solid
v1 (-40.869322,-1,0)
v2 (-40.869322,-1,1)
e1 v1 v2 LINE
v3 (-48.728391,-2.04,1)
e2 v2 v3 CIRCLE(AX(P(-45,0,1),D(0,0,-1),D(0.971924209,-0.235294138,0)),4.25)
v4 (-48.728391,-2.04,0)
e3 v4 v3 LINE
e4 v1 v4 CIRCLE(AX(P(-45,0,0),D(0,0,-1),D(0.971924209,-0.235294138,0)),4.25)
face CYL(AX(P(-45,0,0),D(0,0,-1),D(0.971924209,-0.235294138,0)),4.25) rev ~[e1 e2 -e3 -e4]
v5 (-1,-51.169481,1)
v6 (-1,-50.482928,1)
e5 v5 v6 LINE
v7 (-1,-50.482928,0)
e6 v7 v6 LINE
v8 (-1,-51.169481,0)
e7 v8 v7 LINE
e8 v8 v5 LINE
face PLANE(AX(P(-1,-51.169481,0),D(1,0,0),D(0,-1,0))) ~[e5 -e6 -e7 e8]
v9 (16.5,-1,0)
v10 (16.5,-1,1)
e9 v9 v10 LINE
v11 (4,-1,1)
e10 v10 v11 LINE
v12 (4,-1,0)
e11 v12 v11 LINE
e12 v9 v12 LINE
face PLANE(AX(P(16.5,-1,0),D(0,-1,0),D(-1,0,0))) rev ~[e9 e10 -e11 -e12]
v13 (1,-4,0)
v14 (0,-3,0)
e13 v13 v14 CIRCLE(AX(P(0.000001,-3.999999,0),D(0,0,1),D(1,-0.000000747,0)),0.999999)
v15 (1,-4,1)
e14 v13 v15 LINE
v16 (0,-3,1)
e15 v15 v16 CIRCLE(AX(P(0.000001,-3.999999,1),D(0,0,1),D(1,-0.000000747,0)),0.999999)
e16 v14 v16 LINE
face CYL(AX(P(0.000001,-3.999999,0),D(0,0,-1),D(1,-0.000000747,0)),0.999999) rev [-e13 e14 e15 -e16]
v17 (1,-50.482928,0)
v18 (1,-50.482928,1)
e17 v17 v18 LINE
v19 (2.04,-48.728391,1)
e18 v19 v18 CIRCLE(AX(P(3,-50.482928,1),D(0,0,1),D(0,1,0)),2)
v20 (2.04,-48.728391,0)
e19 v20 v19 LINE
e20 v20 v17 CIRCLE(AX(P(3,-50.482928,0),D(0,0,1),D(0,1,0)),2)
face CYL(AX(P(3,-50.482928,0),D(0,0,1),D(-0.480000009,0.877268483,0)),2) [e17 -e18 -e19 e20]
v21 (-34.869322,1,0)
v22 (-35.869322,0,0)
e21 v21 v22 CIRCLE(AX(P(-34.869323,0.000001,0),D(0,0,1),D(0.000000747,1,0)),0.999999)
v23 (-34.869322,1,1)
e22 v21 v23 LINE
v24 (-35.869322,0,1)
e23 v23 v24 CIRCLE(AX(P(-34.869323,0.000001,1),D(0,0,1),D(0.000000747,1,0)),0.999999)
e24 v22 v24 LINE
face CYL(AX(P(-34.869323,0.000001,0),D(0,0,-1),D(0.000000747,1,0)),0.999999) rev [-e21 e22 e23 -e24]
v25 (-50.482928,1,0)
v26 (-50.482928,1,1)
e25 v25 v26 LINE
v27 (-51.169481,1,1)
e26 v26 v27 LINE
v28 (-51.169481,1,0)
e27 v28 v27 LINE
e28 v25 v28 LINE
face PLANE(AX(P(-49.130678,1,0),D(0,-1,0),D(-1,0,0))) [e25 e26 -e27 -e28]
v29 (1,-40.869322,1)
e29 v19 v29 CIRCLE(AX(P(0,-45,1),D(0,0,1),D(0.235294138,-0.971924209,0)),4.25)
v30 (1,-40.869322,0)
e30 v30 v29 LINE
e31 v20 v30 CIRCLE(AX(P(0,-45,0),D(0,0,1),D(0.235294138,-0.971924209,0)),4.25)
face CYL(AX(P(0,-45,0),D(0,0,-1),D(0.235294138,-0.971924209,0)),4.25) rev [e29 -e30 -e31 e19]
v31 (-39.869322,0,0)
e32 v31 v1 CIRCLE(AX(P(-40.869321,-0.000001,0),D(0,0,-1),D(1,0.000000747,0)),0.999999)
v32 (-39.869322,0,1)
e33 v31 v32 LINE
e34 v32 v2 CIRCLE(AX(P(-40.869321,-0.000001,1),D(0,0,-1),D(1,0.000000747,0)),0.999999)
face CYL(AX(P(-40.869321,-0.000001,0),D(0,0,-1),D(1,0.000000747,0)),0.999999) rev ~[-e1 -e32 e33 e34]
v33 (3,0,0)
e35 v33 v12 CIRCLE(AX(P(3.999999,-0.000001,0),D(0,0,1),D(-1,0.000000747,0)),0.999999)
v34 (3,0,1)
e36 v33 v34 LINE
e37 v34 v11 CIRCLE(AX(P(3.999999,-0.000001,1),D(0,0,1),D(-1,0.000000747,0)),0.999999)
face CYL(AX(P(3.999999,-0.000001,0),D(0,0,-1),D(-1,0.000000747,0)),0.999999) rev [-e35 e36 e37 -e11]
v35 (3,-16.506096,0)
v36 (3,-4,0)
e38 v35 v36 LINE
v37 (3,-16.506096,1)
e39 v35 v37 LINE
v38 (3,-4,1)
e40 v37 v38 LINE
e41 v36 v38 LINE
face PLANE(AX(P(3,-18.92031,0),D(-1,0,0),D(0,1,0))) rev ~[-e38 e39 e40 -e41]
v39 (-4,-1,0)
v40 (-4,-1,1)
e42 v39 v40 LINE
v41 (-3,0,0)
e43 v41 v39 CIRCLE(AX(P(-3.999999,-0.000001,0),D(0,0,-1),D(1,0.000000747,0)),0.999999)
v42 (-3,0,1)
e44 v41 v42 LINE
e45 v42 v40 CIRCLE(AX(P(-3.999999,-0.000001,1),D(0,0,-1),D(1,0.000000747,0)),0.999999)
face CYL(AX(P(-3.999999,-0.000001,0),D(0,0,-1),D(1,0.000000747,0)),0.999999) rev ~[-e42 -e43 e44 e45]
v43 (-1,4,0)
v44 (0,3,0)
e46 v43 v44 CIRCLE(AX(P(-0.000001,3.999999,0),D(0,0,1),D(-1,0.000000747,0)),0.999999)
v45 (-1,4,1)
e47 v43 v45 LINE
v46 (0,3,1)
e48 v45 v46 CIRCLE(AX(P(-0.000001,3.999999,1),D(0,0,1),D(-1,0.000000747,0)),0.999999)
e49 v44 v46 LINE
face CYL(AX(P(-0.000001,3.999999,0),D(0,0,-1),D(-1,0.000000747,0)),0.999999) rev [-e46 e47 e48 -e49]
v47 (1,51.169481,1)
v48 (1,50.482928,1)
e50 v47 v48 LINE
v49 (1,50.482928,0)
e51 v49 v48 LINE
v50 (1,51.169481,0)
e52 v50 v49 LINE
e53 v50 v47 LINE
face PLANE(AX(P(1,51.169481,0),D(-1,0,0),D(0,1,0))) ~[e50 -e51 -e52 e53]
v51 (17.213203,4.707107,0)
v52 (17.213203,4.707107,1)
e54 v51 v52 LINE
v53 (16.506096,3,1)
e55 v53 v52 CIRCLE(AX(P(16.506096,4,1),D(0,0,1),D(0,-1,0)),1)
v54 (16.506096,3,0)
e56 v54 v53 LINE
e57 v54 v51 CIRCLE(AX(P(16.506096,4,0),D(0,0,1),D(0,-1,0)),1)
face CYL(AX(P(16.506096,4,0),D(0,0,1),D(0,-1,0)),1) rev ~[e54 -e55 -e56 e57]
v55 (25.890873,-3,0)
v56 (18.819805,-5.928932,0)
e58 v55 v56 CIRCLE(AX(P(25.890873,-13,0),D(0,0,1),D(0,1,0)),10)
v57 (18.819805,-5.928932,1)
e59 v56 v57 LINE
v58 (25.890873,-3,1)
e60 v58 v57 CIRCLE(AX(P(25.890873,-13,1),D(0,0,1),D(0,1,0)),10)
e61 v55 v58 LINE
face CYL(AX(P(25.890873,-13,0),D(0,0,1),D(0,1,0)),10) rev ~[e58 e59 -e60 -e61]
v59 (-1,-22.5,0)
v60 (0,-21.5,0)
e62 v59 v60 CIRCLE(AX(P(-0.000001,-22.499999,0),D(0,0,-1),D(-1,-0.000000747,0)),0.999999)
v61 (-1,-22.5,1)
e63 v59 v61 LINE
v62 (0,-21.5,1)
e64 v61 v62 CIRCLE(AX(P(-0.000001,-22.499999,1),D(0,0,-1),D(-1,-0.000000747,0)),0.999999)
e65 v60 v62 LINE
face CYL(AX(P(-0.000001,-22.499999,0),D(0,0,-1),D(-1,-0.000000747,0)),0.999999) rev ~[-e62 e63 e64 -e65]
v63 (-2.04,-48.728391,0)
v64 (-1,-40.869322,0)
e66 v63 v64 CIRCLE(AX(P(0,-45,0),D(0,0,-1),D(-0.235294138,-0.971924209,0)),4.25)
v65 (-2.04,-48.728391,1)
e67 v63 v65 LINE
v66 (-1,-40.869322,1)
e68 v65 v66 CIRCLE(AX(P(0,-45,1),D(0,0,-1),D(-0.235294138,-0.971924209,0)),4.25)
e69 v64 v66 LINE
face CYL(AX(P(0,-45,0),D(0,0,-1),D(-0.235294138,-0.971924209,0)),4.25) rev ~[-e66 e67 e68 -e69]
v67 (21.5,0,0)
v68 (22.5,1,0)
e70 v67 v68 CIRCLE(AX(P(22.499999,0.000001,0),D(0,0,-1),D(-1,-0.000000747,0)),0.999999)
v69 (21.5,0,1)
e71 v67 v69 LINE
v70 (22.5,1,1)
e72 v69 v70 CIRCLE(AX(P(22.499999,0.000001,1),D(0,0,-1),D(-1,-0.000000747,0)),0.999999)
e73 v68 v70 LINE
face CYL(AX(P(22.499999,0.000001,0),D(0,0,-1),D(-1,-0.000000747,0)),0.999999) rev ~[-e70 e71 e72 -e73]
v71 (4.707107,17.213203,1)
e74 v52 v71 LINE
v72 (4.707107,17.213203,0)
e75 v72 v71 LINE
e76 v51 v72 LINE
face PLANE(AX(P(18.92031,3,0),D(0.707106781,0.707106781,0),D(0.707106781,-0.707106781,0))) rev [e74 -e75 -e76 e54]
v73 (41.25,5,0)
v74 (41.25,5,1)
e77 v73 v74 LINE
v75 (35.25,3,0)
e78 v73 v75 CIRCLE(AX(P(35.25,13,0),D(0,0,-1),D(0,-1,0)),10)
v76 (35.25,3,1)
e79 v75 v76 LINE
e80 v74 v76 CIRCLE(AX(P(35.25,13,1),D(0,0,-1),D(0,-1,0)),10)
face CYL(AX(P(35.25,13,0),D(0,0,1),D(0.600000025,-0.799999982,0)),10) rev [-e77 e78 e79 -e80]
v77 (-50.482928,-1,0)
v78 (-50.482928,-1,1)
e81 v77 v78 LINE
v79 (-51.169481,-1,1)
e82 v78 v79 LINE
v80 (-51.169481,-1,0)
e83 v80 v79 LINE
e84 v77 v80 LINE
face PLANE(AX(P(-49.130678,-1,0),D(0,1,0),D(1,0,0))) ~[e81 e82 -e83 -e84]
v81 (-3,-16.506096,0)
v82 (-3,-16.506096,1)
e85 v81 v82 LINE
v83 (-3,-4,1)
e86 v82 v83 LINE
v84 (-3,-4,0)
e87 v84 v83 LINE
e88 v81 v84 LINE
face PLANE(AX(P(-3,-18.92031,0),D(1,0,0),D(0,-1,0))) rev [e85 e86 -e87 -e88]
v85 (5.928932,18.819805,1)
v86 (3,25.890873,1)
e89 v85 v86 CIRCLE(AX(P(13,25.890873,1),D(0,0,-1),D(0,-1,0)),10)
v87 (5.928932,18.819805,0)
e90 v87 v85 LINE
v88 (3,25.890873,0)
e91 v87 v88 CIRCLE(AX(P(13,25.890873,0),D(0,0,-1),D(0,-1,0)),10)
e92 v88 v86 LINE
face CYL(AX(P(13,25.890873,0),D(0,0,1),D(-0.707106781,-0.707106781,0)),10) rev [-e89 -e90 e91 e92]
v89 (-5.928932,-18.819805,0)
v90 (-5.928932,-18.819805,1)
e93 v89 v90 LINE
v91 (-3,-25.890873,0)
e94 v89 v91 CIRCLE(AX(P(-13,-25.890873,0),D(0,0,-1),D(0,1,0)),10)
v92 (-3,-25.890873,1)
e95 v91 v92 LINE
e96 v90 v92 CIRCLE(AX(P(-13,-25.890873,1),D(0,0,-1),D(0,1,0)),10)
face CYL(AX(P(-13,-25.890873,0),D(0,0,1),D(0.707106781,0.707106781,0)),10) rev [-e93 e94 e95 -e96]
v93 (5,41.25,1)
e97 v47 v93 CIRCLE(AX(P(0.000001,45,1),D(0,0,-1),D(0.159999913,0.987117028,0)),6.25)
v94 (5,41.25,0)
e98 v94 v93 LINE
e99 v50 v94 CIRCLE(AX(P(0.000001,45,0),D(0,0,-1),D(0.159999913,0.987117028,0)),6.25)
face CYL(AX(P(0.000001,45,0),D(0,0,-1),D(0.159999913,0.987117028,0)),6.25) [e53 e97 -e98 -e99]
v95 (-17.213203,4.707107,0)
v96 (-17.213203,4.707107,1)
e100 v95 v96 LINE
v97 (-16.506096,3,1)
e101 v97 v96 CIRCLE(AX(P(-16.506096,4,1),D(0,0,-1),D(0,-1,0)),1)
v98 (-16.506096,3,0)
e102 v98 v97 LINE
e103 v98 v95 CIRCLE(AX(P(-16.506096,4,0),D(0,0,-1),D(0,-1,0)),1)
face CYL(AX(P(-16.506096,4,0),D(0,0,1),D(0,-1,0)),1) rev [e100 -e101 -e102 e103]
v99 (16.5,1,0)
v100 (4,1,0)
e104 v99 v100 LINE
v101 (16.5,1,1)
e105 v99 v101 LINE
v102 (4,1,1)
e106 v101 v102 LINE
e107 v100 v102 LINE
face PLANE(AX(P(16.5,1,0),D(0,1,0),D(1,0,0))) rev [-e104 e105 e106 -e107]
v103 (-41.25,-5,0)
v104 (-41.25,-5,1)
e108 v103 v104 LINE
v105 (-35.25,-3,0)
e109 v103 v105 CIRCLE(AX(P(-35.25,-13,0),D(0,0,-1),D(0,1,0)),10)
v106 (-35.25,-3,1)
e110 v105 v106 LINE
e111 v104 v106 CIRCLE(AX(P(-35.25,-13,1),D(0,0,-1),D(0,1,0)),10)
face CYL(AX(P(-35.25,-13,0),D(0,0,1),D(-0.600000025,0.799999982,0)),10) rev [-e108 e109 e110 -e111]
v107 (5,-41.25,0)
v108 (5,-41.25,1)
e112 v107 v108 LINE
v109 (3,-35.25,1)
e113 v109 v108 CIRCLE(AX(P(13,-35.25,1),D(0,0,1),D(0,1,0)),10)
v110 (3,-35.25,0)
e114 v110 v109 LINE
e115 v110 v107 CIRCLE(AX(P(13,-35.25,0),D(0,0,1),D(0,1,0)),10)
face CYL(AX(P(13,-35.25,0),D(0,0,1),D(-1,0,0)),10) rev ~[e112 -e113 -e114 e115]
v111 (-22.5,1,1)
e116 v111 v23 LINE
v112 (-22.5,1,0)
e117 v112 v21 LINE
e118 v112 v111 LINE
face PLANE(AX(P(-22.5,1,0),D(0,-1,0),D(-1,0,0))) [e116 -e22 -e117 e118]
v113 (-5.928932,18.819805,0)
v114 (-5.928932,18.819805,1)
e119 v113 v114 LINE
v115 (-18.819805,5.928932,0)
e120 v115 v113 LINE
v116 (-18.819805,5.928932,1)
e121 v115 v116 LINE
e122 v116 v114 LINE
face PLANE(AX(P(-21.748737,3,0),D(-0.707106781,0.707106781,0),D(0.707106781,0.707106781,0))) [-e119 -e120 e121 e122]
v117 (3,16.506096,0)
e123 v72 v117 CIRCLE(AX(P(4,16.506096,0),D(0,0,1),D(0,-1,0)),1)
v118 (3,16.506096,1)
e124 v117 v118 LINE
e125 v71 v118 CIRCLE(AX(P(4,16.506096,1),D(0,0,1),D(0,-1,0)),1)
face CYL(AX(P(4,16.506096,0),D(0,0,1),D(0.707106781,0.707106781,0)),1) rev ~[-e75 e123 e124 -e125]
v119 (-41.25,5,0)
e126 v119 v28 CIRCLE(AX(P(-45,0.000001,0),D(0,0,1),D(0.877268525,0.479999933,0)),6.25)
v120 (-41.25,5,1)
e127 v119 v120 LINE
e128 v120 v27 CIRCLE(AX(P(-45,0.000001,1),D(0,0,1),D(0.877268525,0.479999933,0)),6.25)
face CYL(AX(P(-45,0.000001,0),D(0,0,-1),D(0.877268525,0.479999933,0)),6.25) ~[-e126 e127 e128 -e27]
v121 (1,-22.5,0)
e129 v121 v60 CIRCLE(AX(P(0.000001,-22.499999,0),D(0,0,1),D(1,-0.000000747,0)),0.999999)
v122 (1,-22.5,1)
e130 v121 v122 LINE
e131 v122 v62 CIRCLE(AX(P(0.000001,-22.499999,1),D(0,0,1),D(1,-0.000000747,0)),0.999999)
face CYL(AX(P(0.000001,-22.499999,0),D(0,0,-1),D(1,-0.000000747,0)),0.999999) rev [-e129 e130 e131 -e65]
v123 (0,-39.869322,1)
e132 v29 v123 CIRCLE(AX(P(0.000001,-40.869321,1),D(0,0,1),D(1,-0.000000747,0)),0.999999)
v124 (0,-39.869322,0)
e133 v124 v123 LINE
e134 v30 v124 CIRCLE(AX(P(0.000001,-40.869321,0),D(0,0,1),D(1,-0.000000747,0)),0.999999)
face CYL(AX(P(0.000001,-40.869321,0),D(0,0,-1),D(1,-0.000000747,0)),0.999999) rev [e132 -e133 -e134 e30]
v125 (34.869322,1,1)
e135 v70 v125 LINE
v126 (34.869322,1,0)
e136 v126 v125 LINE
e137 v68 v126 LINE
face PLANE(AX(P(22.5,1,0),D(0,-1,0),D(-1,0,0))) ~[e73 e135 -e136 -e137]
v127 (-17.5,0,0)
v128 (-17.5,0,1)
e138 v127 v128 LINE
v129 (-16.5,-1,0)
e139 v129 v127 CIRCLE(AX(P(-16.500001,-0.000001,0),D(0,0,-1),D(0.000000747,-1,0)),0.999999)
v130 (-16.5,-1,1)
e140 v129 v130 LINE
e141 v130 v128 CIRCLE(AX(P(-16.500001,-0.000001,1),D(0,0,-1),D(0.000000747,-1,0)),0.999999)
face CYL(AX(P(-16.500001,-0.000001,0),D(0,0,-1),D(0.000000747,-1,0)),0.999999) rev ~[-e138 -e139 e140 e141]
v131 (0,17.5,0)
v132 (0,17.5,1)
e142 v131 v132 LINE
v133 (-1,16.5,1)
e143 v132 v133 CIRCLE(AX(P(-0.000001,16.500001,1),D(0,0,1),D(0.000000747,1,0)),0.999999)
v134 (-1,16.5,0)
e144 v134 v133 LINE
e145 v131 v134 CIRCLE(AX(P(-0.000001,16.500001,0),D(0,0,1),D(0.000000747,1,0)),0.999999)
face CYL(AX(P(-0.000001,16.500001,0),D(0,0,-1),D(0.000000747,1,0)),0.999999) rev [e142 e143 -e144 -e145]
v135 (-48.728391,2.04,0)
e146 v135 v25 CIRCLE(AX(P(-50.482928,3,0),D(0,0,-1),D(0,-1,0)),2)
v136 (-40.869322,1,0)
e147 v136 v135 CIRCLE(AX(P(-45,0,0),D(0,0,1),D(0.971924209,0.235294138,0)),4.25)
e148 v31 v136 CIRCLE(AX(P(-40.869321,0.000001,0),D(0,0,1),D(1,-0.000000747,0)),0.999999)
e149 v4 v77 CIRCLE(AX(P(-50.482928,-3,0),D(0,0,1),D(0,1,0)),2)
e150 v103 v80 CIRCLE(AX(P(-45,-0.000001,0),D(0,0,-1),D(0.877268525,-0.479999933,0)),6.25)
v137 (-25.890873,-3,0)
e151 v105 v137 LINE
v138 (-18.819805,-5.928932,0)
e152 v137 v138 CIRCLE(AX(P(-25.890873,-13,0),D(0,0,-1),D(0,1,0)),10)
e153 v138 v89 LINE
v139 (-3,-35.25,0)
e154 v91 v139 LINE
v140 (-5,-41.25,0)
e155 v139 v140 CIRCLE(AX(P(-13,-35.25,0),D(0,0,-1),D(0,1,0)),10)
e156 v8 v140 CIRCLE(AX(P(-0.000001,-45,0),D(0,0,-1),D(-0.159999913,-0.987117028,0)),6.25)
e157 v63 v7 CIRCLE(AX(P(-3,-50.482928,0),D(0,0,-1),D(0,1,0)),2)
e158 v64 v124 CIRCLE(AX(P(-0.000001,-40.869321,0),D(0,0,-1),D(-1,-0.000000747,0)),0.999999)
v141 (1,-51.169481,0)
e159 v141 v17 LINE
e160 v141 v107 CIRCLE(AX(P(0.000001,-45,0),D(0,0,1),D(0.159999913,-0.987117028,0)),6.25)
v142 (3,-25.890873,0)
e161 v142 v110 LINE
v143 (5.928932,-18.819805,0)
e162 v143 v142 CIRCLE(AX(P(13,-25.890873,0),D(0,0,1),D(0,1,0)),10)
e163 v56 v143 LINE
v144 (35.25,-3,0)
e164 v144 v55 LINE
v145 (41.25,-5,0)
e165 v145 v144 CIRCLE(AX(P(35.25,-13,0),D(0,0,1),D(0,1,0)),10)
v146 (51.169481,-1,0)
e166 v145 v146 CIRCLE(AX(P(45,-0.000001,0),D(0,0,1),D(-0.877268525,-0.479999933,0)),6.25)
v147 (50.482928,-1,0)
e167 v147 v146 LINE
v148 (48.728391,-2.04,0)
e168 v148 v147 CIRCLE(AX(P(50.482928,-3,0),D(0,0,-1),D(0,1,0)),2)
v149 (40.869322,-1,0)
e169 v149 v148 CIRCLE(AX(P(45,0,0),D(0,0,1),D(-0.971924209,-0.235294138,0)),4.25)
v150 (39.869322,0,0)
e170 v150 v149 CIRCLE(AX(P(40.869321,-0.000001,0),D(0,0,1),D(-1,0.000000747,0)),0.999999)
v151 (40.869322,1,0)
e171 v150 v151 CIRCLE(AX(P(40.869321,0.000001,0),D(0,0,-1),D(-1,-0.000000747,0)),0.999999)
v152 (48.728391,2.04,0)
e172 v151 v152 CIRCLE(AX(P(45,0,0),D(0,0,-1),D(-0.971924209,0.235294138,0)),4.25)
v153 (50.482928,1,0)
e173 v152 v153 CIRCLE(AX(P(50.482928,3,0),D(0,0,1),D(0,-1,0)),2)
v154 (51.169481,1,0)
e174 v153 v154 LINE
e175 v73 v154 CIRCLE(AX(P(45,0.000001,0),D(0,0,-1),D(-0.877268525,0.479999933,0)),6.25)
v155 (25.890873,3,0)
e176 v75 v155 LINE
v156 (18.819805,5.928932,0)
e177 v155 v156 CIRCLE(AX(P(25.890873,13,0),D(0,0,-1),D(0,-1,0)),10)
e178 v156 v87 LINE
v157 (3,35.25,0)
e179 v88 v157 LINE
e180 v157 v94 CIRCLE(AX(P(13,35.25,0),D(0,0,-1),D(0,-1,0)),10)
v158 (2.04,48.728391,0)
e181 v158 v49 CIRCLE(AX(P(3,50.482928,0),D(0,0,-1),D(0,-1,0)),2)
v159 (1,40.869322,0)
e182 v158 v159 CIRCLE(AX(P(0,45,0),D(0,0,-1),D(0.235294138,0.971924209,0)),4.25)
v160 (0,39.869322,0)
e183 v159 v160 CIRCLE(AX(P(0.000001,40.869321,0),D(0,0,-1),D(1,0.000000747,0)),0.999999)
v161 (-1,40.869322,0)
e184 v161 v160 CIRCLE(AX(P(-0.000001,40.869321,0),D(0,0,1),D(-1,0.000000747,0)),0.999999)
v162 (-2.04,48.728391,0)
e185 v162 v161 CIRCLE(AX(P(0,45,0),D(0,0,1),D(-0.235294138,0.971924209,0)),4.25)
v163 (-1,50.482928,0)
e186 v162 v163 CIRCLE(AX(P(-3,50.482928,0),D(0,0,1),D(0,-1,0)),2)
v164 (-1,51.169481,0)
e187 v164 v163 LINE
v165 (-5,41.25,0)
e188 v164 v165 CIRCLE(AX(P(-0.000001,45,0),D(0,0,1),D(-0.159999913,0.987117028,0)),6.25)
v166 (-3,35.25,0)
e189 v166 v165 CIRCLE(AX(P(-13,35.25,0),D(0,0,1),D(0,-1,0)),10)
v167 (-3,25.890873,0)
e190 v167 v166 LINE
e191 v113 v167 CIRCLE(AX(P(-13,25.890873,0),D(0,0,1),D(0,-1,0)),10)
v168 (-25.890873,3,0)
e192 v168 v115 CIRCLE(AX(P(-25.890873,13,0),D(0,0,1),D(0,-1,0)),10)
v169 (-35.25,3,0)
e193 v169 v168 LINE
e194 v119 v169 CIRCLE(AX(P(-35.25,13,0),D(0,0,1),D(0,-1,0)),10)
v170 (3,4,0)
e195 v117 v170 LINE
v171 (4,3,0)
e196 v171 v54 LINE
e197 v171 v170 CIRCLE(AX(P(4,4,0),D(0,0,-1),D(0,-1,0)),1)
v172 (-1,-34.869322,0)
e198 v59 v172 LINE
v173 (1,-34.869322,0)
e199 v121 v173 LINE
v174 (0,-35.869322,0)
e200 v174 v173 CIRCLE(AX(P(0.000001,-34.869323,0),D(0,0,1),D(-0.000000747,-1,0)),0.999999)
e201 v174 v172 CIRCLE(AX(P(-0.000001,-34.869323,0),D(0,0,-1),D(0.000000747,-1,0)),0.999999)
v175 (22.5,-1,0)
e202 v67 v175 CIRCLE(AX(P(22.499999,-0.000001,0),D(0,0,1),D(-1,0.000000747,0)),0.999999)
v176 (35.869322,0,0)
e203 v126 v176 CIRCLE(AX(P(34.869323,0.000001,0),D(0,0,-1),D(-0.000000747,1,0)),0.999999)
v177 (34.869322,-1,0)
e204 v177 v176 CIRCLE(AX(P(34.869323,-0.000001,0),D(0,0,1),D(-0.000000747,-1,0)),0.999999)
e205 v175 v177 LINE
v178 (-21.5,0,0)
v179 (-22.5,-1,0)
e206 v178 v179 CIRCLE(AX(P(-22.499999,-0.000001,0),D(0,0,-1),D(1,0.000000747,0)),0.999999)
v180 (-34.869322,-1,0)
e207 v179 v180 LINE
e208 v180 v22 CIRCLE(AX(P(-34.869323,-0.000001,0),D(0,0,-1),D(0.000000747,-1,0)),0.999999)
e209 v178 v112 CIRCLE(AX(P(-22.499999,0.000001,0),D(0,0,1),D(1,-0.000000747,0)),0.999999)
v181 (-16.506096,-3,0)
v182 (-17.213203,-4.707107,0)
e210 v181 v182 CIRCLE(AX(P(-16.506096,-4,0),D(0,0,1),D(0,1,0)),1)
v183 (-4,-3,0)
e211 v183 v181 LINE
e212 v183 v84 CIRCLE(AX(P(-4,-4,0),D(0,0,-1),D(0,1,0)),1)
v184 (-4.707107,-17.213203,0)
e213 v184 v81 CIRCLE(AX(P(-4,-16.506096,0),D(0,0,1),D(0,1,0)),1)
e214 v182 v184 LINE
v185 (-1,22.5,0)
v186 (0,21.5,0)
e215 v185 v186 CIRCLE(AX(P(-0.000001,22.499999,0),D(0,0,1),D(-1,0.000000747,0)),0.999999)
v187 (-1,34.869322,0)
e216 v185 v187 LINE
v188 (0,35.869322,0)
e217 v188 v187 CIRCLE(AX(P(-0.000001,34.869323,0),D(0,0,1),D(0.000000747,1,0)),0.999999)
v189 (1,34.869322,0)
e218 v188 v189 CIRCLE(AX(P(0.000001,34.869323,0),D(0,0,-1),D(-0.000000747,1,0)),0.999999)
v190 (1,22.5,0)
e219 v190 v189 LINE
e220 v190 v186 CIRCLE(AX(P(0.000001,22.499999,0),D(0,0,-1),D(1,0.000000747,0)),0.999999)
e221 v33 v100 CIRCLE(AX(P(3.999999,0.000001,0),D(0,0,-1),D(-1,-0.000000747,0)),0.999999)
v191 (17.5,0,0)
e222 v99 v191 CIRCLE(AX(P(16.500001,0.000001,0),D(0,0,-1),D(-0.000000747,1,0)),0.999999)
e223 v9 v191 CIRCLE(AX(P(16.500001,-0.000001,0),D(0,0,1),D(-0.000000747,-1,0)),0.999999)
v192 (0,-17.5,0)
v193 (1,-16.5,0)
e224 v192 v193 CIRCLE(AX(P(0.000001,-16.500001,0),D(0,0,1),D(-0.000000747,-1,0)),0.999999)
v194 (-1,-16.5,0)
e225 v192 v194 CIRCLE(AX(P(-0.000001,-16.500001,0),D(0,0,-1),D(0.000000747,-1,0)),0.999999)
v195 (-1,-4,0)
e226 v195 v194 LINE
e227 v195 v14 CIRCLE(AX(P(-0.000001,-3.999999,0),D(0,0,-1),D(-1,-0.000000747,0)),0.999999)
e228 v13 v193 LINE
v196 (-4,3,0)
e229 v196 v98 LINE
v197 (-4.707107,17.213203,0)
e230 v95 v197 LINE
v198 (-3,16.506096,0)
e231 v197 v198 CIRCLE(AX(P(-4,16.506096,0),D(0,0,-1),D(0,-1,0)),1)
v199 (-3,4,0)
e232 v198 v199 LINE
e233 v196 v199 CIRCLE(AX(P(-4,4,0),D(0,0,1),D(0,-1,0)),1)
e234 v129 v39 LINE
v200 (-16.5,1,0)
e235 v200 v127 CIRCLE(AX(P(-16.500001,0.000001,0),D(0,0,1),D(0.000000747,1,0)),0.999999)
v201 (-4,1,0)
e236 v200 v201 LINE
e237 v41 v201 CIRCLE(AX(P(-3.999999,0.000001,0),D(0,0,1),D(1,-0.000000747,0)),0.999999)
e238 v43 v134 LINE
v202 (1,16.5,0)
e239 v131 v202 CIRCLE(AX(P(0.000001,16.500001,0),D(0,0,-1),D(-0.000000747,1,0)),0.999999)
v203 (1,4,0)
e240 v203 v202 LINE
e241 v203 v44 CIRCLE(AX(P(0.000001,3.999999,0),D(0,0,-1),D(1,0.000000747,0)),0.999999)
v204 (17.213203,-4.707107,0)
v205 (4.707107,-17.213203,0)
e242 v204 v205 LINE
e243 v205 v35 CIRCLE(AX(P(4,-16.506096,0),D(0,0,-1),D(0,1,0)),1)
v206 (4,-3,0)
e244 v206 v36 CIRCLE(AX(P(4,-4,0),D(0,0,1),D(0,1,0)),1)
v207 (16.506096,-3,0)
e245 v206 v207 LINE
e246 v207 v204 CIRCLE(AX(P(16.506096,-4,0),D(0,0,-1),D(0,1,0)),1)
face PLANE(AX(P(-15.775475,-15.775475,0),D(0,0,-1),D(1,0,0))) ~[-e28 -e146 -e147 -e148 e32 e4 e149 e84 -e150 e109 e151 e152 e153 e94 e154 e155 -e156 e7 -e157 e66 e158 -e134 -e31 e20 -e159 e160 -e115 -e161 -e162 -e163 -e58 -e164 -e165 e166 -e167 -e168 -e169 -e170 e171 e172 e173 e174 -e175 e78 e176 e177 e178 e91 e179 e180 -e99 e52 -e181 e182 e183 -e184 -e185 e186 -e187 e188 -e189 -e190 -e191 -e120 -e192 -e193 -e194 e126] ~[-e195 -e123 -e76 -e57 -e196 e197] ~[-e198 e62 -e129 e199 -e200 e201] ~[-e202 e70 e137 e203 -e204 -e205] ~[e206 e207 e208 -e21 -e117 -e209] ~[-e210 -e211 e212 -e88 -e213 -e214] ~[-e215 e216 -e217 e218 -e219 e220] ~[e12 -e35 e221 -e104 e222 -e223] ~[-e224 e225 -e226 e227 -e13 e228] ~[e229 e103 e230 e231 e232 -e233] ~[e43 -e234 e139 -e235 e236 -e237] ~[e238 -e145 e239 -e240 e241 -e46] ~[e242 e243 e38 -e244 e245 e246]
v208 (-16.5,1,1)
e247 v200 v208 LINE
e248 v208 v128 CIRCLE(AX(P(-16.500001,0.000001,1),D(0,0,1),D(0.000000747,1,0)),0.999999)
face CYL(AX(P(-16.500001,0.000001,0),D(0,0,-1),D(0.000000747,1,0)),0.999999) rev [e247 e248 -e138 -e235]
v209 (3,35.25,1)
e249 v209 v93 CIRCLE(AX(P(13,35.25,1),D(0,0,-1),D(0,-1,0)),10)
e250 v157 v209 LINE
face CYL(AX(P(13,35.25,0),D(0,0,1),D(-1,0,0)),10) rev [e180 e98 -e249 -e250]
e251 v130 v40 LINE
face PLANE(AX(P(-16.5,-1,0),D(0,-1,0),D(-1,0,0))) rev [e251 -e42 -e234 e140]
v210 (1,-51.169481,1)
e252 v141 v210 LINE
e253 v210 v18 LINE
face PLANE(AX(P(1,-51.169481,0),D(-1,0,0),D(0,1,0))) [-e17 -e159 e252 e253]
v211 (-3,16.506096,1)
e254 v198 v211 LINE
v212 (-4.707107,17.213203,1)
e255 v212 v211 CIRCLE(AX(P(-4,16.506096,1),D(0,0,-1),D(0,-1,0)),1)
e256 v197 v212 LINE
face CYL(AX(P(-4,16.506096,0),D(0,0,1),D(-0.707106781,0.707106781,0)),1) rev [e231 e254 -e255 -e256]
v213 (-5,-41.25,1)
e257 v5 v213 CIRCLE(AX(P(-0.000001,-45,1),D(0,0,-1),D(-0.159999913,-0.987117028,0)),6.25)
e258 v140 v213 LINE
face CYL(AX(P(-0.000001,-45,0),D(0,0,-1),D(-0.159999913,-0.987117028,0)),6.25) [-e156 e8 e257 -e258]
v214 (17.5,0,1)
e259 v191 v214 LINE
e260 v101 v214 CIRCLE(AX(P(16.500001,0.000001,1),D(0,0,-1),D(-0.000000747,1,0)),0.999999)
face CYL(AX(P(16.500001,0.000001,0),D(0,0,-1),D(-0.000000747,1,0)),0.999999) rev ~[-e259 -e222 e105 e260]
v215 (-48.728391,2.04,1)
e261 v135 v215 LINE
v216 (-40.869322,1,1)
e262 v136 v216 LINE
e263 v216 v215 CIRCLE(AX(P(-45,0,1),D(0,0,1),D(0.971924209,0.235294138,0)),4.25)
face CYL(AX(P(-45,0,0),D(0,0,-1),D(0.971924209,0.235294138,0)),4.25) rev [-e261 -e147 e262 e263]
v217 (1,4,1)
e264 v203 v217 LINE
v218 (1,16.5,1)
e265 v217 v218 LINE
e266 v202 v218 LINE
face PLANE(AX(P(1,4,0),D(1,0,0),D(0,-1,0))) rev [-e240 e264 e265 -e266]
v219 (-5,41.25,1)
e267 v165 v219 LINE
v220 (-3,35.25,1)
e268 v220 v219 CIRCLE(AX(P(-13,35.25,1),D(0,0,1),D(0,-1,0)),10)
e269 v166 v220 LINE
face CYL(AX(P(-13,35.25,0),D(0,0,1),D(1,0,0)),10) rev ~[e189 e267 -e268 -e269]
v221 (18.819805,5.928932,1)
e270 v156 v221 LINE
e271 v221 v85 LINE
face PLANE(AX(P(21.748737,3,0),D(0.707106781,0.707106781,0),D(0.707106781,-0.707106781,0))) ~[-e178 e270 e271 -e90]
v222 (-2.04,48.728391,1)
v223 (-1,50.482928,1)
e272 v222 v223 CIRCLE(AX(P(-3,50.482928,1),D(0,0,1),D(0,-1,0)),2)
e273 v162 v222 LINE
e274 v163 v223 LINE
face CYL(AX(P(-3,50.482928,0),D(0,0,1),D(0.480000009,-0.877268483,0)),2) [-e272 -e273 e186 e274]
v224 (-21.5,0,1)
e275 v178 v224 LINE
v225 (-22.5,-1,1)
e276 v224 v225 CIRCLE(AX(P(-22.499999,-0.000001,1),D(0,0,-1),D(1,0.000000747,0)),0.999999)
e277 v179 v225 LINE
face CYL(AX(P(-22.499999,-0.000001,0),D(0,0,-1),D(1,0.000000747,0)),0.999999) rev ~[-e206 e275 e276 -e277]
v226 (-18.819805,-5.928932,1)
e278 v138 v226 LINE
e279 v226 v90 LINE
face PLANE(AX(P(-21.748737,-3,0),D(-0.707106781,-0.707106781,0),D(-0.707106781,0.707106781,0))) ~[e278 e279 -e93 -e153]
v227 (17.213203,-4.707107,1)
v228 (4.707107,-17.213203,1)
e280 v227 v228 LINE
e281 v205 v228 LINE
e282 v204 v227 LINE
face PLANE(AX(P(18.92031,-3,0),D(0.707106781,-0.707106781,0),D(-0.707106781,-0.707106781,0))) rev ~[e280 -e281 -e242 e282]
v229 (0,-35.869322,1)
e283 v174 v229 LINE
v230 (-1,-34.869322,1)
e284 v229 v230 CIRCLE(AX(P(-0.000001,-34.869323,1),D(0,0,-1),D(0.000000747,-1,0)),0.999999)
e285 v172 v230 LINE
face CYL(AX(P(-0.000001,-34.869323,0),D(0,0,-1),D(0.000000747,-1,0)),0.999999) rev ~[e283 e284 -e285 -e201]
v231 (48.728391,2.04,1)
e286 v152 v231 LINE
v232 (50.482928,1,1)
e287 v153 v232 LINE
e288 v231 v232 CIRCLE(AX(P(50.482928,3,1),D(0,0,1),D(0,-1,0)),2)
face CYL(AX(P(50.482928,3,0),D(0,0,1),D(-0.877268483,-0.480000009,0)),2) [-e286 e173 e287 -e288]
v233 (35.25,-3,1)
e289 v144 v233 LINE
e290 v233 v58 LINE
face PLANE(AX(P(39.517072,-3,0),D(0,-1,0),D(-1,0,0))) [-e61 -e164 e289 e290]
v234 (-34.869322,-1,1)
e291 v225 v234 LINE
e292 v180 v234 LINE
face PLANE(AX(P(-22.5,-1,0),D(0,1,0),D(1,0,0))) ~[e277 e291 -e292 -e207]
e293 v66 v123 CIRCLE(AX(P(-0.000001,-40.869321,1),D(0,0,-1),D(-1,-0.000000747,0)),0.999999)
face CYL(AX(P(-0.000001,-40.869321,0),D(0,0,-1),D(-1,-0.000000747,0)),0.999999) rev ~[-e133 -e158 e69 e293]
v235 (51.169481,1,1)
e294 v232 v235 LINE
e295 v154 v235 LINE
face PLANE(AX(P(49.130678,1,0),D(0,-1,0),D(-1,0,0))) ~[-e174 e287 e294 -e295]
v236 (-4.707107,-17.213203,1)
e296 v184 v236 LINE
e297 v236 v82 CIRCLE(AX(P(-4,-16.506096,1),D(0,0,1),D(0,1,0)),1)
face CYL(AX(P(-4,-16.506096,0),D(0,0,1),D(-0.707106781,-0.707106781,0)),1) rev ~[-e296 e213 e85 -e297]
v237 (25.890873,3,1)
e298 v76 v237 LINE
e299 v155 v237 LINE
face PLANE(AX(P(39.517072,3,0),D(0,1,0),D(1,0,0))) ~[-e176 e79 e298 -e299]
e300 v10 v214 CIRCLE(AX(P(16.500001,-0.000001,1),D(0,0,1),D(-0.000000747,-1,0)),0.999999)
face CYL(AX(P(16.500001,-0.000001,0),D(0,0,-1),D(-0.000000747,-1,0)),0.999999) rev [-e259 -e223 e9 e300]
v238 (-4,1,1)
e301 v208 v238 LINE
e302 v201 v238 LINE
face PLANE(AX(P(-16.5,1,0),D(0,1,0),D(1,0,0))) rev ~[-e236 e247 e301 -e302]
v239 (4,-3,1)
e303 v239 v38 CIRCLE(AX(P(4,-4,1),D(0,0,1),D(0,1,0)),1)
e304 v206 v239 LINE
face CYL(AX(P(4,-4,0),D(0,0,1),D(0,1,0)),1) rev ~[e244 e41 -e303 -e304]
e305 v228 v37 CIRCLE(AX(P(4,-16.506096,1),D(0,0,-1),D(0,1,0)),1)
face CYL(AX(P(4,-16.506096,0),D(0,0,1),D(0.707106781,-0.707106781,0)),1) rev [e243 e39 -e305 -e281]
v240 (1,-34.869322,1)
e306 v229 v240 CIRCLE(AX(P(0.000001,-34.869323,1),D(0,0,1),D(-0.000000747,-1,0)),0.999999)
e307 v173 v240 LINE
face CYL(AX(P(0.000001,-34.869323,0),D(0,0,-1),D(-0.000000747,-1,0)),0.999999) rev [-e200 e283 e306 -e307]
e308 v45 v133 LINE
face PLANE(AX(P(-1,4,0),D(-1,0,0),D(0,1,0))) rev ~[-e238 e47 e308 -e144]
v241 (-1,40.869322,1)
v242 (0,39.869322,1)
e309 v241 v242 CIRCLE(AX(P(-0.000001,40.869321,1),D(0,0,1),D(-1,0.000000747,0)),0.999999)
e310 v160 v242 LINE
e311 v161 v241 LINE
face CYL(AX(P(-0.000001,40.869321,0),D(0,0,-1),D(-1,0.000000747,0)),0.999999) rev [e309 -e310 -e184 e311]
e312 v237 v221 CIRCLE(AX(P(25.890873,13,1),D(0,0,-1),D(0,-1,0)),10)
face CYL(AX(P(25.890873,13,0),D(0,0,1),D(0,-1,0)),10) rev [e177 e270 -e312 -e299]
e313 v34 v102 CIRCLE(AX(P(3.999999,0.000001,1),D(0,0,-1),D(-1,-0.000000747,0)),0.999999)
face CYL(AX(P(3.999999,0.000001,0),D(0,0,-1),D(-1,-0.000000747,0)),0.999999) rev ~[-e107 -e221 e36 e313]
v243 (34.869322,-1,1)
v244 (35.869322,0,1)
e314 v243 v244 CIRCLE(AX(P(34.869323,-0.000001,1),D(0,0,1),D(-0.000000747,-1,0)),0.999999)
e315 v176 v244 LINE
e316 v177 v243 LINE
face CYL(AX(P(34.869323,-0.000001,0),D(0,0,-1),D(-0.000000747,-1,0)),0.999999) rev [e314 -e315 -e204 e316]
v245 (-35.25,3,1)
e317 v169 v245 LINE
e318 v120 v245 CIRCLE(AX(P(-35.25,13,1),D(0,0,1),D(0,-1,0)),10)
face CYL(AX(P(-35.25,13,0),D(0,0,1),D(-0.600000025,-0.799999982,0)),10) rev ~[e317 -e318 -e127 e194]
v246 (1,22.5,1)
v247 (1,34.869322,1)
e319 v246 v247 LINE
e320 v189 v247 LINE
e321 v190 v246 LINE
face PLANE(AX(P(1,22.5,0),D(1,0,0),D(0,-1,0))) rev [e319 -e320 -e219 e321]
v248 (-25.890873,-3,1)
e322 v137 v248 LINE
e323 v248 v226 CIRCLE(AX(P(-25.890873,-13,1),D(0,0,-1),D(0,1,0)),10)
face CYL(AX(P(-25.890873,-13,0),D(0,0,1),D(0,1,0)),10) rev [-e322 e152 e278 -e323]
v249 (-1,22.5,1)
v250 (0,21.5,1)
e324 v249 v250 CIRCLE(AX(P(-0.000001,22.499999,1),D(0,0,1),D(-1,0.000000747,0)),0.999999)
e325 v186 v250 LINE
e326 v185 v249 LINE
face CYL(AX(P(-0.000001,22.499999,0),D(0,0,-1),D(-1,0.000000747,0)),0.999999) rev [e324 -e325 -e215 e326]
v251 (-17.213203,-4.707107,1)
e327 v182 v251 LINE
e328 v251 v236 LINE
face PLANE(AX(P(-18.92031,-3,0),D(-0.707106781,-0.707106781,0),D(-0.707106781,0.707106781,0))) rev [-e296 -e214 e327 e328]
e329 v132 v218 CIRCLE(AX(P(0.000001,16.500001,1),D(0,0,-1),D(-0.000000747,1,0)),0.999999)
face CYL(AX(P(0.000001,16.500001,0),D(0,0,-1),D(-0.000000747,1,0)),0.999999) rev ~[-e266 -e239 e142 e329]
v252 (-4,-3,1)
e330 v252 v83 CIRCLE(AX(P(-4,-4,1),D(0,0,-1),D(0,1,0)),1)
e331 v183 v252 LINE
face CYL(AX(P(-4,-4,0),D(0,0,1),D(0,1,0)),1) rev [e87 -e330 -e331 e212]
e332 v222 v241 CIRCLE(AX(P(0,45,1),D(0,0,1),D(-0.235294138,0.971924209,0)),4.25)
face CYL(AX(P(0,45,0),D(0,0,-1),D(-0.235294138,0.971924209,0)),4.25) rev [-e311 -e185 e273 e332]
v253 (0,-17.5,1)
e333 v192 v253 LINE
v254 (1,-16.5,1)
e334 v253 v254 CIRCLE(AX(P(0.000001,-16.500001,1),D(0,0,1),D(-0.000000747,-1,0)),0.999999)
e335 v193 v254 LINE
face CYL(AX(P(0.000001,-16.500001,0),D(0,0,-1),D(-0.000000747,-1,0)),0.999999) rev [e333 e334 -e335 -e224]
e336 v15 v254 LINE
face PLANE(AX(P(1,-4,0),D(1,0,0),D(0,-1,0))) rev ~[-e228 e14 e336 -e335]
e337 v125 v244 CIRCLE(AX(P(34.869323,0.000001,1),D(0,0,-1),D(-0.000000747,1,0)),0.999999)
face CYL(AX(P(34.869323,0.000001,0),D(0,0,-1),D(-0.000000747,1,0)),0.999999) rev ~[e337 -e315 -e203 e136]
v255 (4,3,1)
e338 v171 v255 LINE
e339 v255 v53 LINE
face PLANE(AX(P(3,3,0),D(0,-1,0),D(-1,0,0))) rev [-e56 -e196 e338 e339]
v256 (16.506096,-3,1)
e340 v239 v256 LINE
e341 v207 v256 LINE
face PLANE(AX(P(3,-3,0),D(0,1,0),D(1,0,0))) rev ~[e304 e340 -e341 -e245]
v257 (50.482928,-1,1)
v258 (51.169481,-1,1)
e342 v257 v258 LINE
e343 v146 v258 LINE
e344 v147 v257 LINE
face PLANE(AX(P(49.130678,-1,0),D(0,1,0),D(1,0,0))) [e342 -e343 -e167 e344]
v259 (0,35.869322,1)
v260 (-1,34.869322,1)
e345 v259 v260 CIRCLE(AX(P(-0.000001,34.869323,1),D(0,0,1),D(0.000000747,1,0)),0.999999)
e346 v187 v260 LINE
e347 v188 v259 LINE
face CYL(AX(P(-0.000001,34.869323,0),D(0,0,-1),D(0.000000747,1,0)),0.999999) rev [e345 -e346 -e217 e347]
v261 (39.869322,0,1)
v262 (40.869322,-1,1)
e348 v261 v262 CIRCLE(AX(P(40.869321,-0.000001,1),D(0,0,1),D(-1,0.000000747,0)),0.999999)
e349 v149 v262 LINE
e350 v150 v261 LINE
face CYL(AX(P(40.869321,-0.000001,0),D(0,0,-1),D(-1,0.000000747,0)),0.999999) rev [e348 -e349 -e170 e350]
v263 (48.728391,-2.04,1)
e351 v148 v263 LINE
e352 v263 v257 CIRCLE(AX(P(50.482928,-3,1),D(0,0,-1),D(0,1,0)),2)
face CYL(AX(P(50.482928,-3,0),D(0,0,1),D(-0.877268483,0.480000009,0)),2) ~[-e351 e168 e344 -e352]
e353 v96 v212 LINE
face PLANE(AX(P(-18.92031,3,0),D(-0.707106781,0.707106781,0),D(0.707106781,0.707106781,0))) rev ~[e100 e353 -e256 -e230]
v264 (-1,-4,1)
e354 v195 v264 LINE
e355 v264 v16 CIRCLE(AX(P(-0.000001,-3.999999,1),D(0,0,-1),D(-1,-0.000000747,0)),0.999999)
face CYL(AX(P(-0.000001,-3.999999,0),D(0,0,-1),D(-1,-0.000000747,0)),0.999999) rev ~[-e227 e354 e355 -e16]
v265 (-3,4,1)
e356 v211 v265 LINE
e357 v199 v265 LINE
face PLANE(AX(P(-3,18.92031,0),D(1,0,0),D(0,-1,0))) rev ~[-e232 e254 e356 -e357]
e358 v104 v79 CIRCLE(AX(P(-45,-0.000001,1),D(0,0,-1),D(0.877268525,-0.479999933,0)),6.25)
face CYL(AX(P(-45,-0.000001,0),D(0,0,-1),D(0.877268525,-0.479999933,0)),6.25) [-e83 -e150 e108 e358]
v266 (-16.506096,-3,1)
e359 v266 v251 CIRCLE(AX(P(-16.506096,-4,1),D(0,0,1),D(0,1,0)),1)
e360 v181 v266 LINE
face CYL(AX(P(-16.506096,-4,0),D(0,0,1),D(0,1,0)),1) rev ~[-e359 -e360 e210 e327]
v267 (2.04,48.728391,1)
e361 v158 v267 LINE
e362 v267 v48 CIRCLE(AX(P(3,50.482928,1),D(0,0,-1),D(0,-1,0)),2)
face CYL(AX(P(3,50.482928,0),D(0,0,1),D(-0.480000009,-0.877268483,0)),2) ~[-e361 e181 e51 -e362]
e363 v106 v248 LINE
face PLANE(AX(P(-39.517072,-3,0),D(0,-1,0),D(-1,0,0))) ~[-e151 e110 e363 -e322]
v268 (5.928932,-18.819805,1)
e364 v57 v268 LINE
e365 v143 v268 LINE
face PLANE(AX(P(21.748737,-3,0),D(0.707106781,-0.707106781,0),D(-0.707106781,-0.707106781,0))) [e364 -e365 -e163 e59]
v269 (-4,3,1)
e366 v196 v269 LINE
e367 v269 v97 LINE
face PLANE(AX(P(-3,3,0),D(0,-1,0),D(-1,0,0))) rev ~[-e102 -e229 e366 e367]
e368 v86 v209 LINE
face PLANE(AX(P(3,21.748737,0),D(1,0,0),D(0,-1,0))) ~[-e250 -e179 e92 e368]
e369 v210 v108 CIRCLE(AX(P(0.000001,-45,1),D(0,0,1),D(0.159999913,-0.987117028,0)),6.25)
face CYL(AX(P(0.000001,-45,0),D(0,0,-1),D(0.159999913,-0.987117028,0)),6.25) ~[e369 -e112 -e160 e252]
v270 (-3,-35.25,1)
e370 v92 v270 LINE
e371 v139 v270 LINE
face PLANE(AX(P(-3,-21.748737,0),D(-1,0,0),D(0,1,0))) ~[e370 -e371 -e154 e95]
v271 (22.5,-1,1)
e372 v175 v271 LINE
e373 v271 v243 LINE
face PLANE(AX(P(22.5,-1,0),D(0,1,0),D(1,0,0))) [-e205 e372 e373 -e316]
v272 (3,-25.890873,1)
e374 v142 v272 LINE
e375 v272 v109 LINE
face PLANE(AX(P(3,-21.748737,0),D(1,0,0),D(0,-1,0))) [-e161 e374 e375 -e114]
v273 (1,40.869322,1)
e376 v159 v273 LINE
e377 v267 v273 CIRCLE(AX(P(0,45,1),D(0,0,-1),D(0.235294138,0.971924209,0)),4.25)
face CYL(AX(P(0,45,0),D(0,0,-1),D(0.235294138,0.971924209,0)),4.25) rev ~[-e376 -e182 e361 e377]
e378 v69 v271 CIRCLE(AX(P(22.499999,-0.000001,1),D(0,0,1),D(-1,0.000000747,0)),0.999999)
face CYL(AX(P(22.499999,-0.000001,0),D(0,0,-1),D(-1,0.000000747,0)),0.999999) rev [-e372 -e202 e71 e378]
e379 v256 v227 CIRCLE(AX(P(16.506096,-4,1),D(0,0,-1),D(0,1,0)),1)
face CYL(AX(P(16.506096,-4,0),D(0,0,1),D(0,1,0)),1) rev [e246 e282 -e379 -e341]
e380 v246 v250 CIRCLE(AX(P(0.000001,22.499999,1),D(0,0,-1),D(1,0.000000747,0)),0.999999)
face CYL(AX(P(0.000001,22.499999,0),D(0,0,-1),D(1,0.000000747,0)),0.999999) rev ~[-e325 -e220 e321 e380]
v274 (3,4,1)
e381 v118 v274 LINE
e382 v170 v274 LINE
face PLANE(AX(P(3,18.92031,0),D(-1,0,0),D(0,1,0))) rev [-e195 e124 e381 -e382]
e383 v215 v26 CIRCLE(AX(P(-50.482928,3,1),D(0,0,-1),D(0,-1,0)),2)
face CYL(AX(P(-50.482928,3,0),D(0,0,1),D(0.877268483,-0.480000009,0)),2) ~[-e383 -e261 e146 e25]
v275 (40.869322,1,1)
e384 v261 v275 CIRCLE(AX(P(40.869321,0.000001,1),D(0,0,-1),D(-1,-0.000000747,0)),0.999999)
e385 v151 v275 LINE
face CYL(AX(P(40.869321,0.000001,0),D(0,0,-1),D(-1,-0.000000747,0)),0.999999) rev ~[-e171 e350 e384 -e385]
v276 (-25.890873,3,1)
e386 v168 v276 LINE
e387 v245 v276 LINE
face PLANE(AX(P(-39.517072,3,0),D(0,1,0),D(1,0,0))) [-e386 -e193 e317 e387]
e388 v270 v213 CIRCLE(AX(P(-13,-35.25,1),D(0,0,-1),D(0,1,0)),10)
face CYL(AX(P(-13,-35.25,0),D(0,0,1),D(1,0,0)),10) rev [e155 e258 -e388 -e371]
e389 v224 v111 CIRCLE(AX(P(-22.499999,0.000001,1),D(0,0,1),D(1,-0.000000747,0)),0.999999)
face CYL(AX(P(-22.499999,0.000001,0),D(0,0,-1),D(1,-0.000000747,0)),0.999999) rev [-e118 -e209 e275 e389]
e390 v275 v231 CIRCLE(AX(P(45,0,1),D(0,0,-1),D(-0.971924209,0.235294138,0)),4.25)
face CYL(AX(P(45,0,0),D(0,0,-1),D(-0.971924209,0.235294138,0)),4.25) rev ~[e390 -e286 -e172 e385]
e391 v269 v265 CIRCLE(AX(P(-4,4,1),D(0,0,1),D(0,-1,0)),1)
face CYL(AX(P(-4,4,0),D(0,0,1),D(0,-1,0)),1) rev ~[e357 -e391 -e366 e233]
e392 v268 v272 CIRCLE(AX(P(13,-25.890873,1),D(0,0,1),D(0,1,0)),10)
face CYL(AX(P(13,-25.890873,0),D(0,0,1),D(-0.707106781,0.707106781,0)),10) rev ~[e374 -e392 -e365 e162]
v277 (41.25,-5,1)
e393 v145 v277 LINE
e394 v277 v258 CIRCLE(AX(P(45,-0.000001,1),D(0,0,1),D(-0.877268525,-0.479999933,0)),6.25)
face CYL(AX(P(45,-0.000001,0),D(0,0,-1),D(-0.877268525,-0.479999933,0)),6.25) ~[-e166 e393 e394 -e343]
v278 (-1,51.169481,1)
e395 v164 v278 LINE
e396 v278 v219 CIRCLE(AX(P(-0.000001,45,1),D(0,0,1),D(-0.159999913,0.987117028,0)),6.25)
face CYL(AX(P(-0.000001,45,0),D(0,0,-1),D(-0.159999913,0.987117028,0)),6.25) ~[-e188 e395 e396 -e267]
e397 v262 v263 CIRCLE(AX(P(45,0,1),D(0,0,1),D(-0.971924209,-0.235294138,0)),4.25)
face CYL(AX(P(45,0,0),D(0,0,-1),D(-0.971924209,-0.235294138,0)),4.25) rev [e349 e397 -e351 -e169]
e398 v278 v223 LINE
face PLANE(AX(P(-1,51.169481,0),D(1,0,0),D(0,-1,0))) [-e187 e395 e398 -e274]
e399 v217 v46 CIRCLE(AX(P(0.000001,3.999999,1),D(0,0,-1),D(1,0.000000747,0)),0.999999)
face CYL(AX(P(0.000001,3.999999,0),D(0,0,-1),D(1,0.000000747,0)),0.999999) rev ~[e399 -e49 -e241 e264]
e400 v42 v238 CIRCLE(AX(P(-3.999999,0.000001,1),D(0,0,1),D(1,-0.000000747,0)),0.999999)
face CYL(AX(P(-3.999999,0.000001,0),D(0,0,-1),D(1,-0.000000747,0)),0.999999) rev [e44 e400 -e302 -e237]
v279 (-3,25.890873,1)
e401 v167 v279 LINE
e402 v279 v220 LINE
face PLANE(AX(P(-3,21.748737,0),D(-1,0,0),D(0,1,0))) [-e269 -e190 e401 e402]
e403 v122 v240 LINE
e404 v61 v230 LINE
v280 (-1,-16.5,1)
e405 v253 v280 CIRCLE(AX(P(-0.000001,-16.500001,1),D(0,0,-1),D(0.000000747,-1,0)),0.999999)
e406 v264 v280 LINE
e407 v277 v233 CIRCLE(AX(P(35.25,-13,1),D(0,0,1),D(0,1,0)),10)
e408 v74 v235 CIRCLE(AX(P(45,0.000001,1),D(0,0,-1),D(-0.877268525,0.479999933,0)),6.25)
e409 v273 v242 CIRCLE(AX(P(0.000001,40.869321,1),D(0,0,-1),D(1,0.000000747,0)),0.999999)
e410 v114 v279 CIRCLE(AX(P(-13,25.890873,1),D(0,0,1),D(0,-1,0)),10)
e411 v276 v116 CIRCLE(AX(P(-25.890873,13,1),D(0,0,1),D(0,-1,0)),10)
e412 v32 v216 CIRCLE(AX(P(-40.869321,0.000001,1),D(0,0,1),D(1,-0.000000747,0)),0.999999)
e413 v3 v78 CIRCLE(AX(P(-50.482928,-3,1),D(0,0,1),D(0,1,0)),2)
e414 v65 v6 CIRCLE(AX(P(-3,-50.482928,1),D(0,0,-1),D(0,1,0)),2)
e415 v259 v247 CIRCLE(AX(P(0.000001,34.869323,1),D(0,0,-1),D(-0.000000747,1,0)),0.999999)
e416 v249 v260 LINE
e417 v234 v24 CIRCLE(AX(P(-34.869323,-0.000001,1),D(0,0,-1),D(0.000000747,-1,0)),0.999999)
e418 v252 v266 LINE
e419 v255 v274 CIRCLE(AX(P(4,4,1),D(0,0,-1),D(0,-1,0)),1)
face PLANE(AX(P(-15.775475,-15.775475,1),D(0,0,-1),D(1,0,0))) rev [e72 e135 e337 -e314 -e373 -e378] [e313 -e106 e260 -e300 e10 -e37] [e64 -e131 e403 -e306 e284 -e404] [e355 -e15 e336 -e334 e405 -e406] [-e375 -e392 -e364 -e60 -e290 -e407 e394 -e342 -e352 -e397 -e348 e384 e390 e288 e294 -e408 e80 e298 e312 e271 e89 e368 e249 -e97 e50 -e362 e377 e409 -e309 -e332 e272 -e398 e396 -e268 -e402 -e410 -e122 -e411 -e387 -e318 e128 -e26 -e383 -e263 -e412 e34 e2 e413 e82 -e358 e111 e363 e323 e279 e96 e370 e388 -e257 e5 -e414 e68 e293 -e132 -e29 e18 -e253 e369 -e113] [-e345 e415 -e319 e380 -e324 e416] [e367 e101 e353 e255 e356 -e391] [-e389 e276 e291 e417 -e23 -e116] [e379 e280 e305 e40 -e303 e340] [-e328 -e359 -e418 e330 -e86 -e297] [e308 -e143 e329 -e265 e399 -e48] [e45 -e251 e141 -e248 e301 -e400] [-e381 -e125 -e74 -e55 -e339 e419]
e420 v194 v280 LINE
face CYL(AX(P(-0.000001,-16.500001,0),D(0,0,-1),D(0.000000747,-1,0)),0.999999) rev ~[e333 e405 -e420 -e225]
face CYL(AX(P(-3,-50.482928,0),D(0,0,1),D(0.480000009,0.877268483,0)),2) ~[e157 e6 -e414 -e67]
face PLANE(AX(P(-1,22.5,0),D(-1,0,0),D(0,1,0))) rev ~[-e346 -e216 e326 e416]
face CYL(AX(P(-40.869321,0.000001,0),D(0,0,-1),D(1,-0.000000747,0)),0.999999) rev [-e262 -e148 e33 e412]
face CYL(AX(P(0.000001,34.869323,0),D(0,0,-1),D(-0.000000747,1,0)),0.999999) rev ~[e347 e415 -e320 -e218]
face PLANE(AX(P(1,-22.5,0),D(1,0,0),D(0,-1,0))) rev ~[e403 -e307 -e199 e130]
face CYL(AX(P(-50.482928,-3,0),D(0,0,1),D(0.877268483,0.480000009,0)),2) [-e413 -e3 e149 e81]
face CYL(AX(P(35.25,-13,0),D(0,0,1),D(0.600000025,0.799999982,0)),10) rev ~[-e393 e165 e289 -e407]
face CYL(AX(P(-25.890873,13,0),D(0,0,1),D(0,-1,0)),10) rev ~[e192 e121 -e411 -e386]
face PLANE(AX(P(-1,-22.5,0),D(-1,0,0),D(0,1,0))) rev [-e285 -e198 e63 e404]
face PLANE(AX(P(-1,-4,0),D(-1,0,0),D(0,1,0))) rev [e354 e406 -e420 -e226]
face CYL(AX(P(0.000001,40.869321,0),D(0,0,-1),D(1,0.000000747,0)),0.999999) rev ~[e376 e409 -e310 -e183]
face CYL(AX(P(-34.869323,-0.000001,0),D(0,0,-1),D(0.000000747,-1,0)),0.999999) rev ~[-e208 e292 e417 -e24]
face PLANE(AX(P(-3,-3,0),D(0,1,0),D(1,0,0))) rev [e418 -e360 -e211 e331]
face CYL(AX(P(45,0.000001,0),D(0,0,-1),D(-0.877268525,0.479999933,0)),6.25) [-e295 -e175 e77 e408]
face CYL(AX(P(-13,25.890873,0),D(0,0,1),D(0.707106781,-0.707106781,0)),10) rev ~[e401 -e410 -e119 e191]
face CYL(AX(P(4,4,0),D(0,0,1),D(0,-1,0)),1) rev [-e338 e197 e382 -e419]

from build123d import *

# Parameters (mm, degrees)
PAD_DEPTH   = 1
FILLET_R    = 2
FILLET001_R = 10
FILLET002_R = 1


with BuildPart() as fillet002:
    # Sketch → Pad (new body)
    with BuildSketch(Plane.XY):
        with BuildLine():
            ThreePointArc((-16.5, 1), (-17.207107, 0.707107), (-17.5, 0))
            Line((-17.5, 0), (-21.5, 0))
            ThreePointArc((-21.5, 0), (-21.792893, 0.707107), (-22.5, 1))
            Line((-22.5, 1), (-34.869322, 1))
            ThreePointArc((-34.869322, 1), (-35.576429, 0.707107), (-35.869322, 0))
            Line((-39.869322, 0), (-35.869322, 0))
            ThreePointArc((-39.869322, 0), (-40.162215, 0.707107), (-40.869322, 1))
            ThreePointArc((-40.869322, 1), (-45, 4.25), (-49.130678, 1))
            Line((-49.130678, 1), (-51.169481, 1))
            ThreePointArc((-39.517072, 3), (-46.057279, 6.159924), (-51.169481, 1))
            Line((-39.517072, 3), (-21.748737, 3))
            Line((-21.748737, 3), (-3, 21.748737))
            Line((-3, 21.748737), (-3, 39.517072))
            ThreePointArc((-1, 51.169481), (-6.159924, 46.057279), (-3, 39.517072))
            Line((-1, 51.169481), (-1, 49.130678))
            ThreePointArc((-1, 49.130678), (-4.25, 45), (-1, 40.869322))
            ThreePointArc((-1, 40.869322), (-0.707107, 40.162215), (0, 39.869322))
            Line((0, 39.869322), (0, 35.869322))
            ThreePointArc((0, 35.869322), (-0.707107, 35.576429), (-1, 34.869322))
            Line((-1, 22.5), (-1, 34.869322))
            ThreePointArc((-1, 22.5), (-0.707107, 21.792893), (0, 21.5))
            Line((0, 21.5), (0, 17.5))
            ThreePointArc((0, 17.5), (-0.707107, 17.207107), (-1, 16.5))
            Line((-1, 4), (-1, 16.5))
            ThreePointArc((-1, 4), (-0.707107, 3.292893), (0, 3))
            Line((0, 3), (0, 0))
            Line((0, 0), (-3, 0))
            ThreePointArc((-3, 0), (-3.292893, 0.707107), (-4, 1))
            Line((-16.5, 1), (-4, 1))
        make_face()
        Polygon((-3, 3), (-18.92031, 3), (-3, 18.92031), align=None, mode=Mode.SUBTRACT)
    extrude(amount=PAD_DEPTH)

    # Fillet
    fillet_edges = [fillet002.edges().sort_by_distance(p)[0] for p in [
        (-49.130678, 1, 0.5),
        (-1, 49.130678, 0.5),
    ]]
    fillet(fillet_edges, radius=FILLET_R)

    # Fillet001
    fillet001_edges = [fillet002.edges().sort_by_distance(p)[0] for p in [
        (-3, 39.517072, 0.5),
        (-3, 21.748737, 0.5),
        (-21.748737, 3, 0.5),
        (-39.517072, 3, 0.5),
    ]]
    fillet(fillet001_edges, radius=FILLET001_R)

    # Fillet002
    fillet002_edges = [fillet002.edges().sort_by_distance(p)[0] for p in [
        (-3, 3, 0.5),
        (-3, 18.92031, 0.5),
        (-18.92031, 3, 0.5),
    ]]
    fillet(fillet002_edges, radius=FILLET002_R)


with BuildPart() as part_mirroring:
    # Part__Mirroring: instance of Fillet002
    add(fillet002.part.mirror(Plane(origin=(0, 0, 0), x_dir=(1, 0, 0), z_dir=(0, 1, 0))))


with BuildPart() as part_mirroring001:
    # Part__Mirroring001: instance of Part__Mirroring
    add(part_mirroring.part.mirror(Plane(origin=(0, 0, 0), x_dir=(0, -1, 0), z_dir=(1, 0, 0))))


with BuildPart() as fusion:
    # Part__Mirroring002: instance of Part__Mirroring001
    add(part_mirroring001.part.mirror(Plane(origin=(0, 0, 0), x_dir=(1, 0, 0), z_dir=(0, 1, 0))))

    # Fusion: union Part__Mirroring001, Fillet002, Part__Mirroring
    add(part_mirroring001.part)
    add(fillet002.part)
    add(part_mirroring.part)


solid = fusion.part
